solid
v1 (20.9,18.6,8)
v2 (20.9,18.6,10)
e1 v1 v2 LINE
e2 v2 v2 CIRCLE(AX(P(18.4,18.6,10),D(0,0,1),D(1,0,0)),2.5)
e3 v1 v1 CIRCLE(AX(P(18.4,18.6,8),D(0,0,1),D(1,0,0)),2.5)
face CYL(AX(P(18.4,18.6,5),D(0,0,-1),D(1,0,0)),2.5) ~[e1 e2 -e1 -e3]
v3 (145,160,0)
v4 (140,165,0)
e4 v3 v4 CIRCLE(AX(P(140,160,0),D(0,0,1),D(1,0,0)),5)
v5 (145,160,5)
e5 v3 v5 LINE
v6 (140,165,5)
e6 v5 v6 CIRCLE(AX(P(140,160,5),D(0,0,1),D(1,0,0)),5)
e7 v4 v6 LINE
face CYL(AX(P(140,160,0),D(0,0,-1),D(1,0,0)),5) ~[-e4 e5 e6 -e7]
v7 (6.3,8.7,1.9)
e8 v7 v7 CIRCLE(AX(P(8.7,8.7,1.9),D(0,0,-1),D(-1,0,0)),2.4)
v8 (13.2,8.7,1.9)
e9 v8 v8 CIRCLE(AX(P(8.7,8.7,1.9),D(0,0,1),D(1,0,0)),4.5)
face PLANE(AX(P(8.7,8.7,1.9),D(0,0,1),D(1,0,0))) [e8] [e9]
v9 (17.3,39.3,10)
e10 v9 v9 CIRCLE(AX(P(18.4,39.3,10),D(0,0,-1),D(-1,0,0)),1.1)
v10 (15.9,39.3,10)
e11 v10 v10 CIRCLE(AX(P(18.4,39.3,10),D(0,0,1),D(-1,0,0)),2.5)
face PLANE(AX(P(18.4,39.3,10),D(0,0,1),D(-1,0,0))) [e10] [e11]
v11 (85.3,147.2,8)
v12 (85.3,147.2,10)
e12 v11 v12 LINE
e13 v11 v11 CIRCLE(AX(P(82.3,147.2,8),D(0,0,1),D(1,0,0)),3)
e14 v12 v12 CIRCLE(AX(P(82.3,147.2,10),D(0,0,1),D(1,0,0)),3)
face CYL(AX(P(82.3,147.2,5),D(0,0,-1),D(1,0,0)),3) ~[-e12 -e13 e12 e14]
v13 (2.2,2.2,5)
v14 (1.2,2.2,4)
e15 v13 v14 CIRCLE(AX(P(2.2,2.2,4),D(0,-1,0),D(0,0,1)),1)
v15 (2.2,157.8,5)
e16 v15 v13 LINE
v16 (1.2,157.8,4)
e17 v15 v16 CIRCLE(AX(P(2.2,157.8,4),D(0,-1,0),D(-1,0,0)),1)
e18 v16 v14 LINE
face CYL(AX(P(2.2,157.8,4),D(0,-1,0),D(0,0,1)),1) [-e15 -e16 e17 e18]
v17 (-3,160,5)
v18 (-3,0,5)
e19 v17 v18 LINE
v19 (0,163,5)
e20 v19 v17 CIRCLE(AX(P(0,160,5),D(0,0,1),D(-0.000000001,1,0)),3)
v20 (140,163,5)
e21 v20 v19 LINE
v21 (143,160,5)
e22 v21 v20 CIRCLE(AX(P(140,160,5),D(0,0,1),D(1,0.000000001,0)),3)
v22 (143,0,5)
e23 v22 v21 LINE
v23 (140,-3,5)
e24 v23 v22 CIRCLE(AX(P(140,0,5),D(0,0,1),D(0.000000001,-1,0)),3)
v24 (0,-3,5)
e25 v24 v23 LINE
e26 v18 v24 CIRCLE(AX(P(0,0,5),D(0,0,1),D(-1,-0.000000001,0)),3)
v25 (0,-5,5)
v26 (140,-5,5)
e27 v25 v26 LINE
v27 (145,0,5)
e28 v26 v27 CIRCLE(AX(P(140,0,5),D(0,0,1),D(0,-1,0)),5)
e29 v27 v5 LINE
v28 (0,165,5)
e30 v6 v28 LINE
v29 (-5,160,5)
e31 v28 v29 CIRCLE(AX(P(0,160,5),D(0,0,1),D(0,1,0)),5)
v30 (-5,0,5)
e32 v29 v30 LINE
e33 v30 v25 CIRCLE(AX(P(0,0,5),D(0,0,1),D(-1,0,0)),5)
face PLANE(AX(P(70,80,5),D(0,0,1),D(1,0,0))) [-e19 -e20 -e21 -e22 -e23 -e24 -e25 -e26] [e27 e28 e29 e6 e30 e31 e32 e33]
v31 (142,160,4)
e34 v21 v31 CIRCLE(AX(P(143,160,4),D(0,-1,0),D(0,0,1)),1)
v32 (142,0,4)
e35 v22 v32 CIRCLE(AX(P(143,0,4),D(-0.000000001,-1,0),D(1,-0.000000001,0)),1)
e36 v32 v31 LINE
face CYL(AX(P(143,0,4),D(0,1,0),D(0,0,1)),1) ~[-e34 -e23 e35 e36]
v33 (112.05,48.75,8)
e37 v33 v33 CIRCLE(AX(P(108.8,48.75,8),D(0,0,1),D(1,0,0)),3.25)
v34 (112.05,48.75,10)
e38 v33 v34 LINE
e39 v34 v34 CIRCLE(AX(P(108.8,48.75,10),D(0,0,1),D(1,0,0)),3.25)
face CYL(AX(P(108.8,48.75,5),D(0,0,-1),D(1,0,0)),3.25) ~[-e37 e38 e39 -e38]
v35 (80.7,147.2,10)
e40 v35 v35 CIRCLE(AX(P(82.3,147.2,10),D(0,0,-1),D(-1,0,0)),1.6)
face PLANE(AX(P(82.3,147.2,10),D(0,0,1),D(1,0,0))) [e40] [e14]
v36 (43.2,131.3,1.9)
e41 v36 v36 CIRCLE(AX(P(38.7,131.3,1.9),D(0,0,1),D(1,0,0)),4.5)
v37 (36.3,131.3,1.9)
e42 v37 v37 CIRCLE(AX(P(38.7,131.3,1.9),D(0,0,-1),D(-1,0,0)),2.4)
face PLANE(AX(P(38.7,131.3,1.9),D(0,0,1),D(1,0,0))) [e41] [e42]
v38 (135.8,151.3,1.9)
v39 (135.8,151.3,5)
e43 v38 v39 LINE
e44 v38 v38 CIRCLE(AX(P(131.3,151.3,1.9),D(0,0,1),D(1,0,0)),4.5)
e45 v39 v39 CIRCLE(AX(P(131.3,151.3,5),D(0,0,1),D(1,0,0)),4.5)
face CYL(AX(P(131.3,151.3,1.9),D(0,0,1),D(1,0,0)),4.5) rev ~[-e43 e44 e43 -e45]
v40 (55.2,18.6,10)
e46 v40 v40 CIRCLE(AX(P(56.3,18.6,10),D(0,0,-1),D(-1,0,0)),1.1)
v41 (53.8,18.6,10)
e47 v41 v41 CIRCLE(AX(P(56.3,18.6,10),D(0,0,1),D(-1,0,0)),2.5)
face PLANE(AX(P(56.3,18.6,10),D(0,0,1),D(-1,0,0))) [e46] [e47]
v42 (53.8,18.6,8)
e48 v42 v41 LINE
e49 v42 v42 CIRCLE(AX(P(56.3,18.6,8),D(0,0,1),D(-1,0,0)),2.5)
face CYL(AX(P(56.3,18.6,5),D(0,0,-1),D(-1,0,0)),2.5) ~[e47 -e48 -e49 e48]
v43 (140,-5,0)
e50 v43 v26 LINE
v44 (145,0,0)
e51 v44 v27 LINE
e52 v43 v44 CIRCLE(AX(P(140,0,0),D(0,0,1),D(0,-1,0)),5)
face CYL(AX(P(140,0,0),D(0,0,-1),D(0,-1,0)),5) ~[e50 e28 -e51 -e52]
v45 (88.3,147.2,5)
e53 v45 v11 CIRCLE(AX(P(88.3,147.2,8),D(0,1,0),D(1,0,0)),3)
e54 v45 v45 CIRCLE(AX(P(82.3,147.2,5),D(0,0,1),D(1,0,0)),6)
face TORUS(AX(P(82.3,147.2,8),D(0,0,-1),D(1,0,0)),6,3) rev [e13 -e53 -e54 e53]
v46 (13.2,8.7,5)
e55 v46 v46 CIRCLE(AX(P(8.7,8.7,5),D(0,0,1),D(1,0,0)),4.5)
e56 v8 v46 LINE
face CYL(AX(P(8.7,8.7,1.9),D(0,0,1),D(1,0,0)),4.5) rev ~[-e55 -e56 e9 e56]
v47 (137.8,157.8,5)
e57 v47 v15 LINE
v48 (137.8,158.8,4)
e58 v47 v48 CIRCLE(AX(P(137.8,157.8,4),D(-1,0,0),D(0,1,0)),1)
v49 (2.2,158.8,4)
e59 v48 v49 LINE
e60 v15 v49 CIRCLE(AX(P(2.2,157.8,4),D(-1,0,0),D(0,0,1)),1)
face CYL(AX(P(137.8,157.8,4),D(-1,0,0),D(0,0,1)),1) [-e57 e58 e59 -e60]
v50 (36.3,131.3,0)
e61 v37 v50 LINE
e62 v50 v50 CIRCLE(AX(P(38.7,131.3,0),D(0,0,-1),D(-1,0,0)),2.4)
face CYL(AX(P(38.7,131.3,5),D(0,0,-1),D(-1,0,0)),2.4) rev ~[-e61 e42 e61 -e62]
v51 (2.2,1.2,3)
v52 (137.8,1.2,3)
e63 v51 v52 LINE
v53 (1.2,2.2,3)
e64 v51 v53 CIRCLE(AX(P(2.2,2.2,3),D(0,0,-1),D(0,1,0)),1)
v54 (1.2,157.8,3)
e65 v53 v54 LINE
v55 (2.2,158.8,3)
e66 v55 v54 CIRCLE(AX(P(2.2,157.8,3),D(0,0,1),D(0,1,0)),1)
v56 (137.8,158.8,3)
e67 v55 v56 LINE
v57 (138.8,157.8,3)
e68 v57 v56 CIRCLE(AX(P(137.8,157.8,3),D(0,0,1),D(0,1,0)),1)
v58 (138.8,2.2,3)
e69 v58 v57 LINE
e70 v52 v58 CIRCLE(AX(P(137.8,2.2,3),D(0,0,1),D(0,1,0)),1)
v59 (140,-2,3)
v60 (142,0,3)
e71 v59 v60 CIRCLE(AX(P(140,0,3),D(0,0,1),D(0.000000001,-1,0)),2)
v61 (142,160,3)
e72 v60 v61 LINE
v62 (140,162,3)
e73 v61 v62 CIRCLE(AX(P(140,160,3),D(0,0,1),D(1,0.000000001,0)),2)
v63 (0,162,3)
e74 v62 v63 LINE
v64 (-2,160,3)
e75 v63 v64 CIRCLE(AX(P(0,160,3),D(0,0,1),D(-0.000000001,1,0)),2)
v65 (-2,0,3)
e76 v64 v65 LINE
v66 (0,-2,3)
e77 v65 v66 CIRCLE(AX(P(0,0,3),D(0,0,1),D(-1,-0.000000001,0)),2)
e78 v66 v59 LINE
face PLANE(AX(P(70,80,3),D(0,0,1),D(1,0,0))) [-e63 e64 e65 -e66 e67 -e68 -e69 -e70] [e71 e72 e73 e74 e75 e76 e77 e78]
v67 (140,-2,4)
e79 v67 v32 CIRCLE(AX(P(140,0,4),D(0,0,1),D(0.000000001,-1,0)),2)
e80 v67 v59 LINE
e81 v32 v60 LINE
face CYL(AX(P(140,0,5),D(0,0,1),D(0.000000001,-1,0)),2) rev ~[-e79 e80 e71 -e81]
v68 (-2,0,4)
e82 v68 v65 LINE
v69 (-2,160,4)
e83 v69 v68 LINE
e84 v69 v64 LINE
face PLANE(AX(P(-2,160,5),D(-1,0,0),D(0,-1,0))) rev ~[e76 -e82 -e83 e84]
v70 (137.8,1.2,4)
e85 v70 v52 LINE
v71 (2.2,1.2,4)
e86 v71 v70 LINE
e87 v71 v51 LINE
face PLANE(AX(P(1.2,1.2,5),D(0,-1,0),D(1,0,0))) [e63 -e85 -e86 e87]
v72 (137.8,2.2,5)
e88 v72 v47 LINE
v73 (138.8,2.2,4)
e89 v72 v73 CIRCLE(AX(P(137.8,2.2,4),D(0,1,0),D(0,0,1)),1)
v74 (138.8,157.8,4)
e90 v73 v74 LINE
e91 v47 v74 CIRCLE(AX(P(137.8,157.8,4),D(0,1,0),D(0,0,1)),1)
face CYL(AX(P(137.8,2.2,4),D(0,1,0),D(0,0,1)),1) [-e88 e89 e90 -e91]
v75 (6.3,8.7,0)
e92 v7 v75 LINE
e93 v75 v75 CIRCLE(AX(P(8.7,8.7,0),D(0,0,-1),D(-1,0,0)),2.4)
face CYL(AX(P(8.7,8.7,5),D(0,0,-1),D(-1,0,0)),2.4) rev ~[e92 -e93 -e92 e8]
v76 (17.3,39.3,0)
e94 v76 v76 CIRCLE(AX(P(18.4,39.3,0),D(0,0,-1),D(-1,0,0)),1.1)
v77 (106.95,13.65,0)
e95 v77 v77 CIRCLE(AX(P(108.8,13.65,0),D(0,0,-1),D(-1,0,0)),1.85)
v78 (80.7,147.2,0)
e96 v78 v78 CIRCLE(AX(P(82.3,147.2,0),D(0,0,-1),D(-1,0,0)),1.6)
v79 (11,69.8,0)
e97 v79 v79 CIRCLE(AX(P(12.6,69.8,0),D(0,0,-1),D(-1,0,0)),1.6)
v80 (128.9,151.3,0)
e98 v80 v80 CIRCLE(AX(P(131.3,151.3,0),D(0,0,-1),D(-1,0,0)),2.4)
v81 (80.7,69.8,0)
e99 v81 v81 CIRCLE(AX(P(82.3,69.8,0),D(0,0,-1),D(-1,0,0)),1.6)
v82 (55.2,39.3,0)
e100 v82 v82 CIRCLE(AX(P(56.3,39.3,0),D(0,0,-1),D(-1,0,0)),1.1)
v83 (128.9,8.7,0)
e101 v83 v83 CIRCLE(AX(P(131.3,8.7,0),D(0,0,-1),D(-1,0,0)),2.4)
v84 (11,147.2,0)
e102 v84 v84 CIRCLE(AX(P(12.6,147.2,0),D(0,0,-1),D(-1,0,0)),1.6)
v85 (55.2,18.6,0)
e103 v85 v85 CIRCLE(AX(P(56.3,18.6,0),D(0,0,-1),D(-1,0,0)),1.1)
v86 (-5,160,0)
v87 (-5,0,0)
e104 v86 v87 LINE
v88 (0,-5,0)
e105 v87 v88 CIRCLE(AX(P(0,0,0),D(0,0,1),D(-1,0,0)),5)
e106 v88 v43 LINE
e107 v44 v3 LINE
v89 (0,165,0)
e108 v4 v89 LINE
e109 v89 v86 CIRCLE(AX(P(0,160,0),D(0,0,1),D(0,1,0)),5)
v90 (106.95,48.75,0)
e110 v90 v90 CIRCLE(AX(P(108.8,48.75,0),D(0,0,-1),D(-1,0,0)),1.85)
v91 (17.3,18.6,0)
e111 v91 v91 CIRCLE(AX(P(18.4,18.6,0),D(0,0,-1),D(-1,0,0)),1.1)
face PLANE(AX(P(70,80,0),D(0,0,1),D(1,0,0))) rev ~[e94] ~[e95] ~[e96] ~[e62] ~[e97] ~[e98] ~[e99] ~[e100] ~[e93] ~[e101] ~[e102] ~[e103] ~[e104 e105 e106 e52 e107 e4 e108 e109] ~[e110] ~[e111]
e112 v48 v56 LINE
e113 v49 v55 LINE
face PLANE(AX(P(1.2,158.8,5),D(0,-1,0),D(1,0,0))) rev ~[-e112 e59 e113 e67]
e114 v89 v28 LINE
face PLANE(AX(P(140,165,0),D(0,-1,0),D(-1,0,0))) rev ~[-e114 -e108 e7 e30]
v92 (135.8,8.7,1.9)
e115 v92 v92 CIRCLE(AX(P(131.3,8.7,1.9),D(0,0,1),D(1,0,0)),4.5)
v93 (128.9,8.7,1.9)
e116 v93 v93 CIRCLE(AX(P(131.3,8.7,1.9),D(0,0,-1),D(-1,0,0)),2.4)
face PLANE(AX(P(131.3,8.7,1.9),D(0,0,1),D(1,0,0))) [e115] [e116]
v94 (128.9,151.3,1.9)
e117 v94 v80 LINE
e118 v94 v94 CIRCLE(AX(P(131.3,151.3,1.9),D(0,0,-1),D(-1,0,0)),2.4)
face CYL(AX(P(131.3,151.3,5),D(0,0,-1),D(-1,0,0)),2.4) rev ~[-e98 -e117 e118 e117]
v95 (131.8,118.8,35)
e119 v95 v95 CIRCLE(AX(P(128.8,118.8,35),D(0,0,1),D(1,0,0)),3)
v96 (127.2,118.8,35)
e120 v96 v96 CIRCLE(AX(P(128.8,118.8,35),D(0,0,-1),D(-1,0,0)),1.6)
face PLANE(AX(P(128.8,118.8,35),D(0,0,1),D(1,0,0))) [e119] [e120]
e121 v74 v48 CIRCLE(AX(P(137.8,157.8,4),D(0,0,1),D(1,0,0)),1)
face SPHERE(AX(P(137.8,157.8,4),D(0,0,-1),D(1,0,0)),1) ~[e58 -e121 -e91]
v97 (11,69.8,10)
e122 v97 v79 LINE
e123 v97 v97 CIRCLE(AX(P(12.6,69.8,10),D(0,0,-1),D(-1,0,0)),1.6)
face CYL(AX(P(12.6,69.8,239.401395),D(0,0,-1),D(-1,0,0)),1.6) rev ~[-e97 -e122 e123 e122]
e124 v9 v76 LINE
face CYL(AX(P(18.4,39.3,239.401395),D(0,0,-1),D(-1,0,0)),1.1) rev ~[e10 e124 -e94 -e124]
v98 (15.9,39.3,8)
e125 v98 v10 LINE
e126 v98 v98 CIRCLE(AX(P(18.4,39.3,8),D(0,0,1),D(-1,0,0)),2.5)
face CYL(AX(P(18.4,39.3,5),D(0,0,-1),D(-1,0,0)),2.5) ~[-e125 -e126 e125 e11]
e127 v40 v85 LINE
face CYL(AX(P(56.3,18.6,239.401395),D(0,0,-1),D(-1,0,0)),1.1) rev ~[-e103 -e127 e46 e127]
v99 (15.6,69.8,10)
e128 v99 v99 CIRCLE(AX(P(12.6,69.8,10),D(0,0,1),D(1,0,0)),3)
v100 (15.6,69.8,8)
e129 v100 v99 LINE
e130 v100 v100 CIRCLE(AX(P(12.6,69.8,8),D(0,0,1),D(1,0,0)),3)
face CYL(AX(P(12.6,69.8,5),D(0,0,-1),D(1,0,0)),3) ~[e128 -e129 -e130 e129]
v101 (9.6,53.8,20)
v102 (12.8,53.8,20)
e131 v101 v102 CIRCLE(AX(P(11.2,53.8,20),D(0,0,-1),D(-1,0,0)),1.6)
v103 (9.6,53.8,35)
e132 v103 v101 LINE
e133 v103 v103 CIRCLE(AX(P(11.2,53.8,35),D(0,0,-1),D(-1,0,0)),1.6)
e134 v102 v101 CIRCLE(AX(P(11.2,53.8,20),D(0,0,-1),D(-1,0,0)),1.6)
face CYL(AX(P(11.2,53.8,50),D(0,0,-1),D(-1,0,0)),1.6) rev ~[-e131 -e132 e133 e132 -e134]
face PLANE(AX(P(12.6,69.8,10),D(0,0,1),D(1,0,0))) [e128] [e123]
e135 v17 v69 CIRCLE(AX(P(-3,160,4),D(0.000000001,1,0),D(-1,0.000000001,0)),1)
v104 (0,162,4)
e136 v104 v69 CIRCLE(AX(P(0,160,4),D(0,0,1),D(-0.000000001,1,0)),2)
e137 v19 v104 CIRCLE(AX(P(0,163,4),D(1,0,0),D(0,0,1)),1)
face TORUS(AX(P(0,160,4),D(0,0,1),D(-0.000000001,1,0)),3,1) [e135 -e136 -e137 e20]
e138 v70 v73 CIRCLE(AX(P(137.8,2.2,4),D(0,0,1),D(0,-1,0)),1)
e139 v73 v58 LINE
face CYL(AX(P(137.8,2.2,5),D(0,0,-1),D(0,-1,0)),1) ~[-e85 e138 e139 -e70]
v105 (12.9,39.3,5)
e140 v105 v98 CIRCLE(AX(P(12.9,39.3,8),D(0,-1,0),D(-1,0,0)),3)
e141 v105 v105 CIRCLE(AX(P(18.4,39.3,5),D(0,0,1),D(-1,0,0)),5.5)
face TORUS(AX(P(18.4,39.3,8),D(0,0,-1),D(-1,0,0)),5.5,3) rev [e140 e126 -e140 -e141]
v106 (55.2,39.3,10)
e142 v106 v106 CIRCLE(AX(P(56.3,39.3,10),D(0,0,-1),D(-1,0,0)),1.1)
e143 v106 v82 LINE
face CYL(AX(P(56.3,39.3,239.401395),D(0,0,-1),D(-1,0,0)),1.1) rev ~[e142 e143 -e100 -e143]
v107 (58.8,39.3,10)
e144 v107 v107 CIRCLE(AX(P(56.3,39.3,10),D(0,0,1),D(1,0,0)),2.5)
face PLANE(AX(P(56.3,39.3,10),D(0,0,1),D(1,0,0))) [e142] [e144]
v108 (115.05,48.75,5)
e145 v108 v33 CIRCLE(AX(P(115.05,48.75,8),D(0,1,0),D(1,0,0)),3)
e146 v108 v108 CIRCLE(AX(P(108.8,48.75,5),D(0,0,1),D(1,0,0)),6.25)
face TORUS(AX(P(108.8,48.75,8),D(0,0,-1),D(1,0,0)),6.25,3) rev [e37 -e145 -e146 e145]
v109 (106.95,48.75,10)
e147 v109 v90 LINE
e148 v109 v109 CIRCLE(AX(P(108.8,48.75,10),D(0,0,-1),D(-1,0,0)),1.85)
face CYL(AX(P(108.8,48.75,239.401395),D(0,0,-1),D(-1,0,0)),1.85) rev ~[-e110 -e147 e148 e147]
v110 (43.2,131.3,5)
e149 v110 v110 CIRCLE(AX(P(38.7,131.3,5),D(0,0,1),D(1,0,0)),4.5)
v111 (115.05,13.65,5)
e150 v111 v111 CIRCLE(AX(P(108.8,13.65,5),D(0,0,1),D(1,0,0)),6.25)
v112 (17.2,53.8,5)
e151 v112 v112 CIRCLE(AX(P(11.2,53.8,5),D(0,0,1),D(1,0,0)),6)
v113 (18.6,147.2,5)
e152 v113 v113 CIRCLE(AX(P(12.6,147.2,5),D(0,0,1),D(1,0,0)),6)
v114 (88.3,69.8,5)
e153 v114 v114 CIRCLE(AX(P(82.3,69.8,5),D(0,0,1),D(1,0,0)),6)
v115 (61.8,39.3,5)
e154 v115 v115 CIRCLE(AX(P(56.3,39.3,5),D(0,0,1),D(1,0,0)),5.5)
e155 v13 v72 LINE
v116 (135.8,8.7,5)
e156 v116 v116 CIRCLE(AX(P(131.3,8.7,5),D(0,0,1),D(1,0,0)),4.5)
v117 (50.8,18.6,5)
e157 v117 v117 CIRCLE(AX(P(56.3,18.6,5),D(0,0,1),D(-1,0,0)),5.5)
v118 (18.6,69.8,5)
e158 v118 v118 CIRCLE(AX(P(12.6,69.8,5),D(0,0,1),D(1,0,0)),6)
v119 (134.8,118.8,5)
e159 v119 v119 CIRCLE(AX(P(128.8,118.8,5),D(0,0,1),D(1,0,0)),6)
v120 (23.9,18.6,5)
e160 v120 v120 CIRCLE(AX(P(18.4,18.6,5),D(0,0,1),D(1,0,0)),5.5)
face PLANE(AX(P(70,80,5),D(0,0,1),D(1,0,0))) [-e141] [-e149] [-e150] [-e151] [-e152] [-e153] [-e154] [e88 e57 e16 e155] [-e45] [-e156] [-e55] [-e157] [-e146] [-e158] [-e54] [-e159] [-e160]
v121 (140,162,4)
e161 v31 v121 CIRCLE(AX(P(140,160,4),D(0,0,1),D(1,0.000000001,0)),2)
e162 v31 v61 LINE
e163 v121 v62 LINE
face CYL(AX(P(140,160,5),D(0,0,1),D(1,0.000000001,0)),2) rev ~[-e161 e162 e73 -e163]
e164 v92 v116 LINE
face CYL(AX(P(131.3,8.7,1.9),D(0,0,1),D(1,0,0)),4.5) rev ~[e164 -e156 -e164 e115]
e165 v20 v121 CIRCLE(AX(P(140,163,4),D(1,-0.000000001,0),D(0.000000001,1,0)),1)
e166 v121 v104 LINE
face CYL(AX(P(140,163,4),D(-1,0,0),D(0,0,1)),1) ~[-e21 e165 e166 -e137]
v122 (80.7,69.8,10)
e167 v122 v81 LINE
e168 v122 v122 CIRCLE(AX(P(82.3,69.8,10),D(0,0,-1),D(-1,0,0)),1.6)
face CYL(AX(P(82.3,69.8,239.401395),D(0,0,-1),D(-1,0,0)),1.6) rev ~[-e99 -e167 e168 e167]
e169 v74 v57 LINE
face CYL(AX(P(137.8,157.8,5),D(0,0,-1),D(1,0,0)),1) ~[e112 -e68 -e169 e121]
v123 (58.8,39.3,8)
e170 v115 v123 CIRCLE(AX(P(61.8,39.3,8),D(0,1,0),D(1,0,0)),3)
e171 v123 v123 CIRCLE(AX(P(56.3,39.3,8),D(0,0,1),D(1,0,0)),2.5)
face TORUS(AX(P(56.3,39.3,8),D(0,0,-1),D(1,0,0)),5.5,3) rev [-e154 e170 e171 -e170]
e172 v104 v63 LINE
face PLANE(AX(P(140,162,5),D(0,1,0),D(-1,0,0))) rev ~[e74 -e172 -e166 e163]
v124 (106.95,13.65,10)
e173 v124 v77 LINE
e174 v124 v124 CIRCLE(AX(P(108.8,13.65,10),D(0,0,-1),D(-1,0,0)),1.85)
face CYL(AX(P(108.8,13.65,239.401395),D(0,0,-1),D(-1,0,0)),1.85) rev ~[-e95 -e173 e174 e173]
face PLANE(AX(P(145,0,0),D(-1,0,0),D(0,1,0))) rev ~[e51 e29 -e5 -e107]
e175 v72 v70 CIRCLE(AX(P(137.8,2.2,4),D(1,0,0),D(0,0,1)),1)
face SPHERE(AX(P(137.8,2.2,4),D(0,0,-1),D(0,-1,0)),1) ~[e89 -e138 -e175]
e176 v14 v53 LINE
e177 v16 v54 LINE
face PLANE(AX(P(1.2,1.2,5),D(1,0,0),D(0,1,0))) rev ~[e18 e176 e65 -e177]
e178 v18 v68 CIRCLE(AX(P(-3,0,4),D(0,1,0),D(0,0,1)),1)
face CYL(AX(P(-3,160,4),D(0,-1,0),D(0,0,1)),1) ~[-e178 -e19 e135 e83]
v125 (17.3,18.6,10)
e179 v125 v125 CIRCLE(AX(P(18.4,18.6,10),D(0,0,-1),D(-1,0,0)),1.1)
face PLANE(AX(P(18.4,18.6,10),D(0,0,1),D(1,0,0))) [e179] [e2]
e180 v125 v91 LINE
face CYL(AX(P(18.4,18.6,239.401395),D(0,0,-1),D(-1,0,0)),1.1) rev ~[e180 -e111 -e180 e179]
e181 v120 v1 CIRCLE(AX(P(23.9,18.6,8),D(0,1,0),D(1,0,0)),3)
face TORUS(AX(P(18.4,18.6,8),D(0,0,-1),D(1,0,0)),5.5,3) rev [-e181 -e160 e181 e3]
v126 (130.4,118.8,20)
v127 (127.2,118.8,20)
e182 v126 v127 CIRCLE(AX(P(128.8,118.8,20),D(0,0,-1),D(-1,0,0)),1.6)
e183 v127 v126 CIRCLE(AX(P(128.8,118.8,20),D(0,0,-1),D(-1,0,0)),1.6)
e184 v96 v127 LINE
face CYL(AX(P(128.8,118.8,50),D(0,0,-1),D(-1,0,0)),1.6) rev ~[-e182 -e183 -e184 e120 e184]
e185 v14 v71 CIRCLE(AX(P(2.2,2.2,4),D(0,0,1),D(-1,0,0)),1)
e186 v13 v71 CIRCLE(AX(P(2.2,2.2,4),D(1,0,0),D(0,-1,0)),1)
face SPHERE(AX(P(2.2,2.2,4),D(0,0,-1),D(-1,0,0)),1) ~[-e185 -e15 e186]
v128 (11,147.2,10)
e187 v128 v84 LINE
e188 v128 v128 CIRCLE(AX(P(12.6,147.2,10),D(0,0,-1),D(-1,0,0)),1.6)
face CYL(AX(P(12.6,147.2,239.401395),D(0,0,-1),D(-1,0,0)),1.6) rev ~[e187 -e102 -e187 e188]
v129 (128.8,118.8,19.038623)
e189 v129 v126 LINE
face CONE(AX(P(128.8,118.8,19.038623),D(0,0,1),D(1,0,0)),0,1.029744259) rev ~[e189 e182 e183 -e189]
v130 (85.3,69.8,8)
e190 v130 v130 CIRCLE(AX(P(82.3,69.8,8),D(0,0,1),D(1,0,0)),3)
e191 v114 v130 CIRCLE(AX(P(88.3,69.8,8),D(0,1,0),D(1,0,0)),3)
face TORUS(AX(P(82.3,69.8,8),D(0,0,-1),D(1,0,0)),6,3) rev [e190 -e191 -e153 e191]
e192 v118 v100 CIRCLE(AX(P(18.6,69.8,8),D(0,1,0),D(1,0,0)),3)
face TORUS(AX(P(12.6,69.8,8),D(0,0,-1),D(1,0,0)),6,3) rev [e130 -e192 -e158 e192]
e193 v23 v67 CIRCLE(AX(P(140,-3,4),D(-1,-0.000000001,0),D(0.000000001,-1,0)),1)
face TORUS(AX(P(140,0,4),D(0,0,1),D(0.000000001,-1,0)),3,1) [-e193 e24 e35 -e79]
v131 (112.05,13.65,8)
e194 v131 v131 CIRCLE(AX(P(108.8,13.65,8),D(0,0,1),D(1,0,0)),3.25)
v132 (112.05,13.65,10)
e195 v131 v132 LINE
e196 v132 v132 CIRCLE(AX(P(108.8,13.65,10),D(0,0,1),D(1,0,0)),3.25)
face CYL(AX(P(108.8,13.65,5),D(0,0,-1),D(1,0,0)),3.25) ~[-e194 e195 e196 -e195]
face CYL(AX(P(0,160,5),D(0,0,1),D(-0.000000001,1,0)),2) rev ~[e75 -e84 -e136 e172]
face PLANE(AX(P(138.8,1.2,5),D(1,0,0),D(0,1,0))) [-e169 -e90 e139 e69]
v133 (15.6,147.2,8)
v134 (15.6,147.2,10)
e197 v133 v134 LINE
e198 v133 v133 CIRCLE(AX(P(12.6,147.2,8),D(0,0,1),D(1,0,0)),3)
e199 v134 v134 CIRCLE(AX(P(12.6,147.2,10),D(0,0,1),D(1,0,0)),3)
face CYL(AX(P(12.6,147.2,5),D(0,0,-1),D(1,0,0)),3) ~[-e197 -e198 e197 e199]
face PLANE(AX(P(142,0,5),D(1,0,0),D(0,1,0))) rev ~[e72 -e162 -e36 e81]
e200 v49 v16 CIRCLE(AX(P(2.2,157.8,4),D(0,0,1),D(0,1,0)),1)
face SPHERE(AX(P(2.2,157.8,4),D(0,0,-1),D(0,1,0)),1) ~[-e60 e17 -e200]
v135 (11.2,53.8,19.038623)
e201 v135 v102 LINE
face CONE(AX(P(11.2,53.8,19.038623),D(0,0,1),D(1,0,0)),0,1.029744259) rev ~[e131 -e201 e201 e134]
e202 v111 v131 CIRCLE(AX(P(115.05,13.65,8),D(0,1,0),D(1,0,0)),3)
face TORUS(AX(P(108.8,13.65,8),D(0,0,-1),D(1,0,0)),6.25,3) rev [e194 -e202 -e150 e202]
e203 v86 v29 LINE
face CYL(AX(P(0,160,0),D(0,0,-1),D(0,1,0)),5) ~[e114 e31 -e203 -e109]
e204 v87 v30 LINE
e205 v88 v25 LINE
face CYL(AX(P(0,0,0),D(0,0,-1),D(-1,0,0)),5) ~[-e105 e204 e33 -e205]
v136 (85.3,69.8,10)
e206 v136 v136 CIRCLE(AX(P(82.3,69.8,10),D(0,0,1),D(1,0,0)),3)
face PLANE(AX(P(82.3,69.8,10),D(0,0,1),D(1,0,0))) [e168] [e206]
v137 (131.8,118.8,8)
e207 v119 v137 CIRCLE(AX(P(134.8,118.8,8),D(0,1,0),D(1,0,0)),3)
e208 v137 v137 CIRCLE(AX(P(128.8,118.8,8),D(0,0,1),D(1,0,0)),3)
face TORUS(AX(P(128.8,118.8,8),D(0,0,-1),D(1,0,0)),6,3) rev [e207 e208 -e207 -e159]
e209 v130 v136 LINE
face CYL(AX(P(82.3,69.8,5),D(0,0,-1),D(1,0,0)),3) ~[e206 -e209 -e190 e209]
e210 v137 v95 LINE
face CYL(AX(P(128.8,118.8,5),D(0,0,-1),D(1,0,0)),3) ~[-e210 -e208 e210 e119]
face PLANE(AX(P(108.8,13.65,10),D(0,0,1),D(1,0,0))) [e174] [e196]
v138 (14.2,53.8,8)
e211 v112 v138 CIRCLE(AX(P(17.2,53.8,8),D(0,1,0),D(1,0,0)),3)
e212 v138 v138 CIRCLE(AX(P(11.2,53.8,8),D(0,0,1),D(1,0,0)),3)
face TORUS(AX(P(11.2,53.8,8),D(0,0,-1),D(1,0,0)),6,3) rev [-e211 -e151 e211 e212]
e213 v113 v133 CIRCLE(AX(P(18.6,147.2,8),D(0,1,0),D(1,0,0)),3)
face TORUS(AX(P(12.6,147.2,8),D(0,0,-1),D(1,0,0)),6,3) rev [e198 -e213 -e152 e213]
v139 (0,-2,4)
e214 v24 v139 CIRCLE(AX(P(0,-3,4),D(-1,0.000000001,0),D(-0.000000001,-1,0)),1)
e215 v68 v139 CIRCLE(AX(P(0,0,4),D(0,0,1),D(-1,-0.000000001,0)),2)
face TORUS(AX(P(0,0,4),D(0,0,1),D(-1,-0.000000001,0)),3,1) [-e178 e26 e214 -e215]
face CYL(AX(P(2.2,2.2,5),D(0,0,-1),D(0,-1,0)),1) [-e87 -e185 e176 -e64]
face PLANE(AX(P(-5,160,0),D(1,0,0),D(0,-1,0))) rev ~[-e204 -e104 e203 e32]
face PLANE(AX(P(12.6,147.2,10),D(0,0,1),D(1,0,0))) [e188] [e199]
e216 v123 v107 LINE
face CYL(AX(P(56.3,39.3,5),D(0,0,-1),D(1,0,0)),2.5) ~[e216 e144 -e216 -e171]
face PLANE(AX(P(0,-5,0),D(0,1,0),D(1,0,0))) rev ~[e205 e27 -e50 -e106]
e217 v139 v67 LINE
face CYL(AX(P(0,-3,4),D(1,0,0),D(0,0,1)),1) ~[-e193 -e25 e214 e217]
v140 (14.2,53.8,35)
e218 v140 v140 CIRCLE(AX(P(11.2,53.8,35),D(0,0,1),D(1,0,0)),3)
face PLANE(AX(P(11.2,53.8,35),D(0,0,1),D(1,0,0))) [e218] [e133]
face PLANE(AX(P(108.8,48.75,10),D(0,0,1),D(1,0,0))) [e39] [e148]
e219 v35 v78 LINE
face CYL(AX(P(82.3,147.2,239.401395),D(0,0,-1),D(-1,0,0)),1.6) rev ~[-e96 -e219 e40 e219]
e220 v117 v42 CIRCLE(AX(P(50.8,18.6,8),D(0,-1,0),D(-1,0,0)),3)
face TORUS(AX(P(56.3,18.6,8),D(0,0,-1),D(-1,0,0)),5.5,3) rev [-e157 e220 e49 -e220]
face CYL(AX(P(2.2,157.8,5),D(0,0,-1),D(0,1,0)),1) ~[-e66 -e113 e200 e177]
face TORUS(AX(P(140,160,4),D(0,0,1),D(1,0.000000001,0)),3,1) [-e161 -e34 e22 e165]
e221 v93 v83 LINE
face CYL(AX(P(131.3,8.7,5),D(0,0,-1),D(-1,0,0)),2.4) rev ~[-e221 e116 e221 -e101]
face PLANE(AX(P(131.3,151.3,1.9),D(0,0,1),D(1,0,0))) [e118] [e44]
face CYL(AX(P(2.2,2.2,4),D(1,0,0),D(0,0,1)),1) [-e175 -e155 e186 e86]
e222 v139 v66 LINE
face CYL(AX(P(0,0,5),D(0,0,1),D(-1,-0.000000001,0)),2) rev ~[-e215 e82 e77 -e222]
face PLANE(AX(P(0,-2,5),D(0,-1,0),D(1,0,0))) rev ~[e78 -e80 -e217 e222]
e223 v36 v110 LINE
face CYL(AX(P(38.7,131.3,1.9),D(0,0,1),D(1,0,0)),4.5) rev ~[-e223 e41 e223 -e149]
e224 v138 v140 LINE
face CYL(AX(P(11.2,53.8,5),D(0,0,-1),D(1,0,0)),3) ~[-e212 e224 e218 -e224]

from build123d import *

# Parameters (mm, degrees)
RESSALTO_EXTRUS_O1_DEPTH                            = 5
ESBO_O5_W                                           = 137.6
ESBO_O5_H                                           = 157.6
CORTE_EXTRUS_O1_DEPTH                               = 2
FILETE2_R                                           = 1
FILETE4_R                                           = 1
ESBO_O6_R                                           = 3
ESBO_O6_R_2                                         = 3.25
ESBO_O6_R_3                                         = 2.5
RESSALTO_EXTRUS_O3_DEPTH                            = 5
ESBO_O18_R                                          = 3
RESSALTO_EXTRUS_O4_DEPTH                            = 30
FILETE5_R                                           = 3
FURO_COM_FOLGA_DE_M3_51_D                           = 3.7
FURO_COM_FOLGA_DE_M21_D                             = 2.2
FURO_COM_FOLGA_DE_M31_D                             = 3.2
REBAIXO_PARA_PARAFUSO_COM_CABE_A_PANELA_D           = 4.8
REBAIXO_PARA_PARAFUSO_COM_CABE_A_PANELA_CBORE_D     = 9
REBAIXO_PARA_PARAFUSO_COM_CABE_A_PANELA_CBORE_DEPTH = 3.1
FILETE6_R                                           = 1
FURO_COM_FOLGA_DE_M32_D                             = 3.2
FURO_COM_FOLGA_DE_M32_DEPTH                         = 15
FURO_COM_FOLGA_DE_M32_TIP                           = 0.96137699


with BuildPart() as part:
    # Esboço1 → Ressalto-extrusão1 (new body)
    with BuildSketch(Plane.XY):
        with BuildLine():
            Line((0, -5), (140, -5))
            ThreePointArc((140, -5), (143.535533906, -3.535533906), (145, 0))
            Line((145, 0), (145, 160))
            ThreePointArc((145, 160), (143.535533906, 163.535533906), (140, 165))
            Line((140, 165), (0, 165))
            ThreePointArc((0, 165), (-3.535533906, 163.535533906), (-5, 160))
            Line((-5, 160), (-5, 0))
            ThreePointArc((-5, 0), (-3.535533906, -3.535533906), (0, -5))
        make_face()
    extrude(amount=RESSALTO_EXTRUS_O1_DEPTH)

    # Esboço5 → Corte-extrusão1 (cut)
    with BuildSketch(Plane.XY.offset(5)):
        with BuildLine():
            Line((142, 0), (142, 160))
            ThreePointArc((142, 160), (141.414213562, 161.414213562), (140, 162))
            Line((140, 162), (0, 162))
            ThreePointArc((0, 162), (-1.414213562, 161.414213562), (-2, 160))
            Line((-2, 160), (-2, 0))
            ThreePointArc((-2, 0), (-1.414213562, -1.414213562), (0, -2))
            Line((0, -2), (140, -2))
            ThreePointArc((140, -2), (141.414213562, -1.414213562), (142, 0))
        make_face()
        with Locations((70, 80)):
            Rectangle(ESBO_O5_W, ESBO_O5_H, mode=Mode.SUBTRACT)
    extrude(amount=-CORTE_EXTRUS_O1_DEPTH, mode=Mode.SUBTRACT)

    # Filete2
    filete2_edges = [part.edges().sort_by_distance(p)[0] for p in [
        (141.414213562, -1.414213562, 5),
        (142, 80, 5),
        (141.414213562, 161.414213562, 5),
        (70, 162, 5),
        (-1.414213562, 161.414213562, 5),
        (-2, 80, 5),
        (-1.414213562, -1.414213562, 5),
        (70, -2, 5),
    ]]
    fillet(filete2_edges, radius=FILETE2_R)

    # Filete4
    filete4_edges = [part.edges().sort_by_distance(p)[0] for p in [
        (1.2, 1.2, 4),
        (1.2, 158.8, 4),
        (138.8, 158.8, 4),
        (138.8, 1.2, 4),
    ]]
    fillet(filete4_edges, radius=FILETE4_R)

    # Esboço6 → Ressalto-extrusão3 (add)
    with BuildSketch(Plane.XY.offset(5)):
        with Locations((12.6, 147.2)):
            Circle(ESBO_O6_R)
        with Locations((82.3, 147.2)):
            Circle(ESBO_O6_R)
        with Locations((82.3, 69.8)):
            Circle(ESBO_O6_R)
        with Locations((12.6, 69.8)):
            Circle(ESBO_O6_R)
        with Locations((108.8, 48.75)):
            Circle(ESBO_O6_R_2)
        with Locations((108.8, 13.65)):
            Circle(ESBO_O6_R_2)
        with Locations(Location((56.3, 18.6, 0), (0, 0, 180))):
            Circle(ESBO_O6_R_3)
        with Locations(Location((18.4, 39.3, 0), (0, 0, 180))):
            Circle(ESBO_O6_R_3)
        with Locations((18.4, 18.6)):
            Circle(ESBO_O6_R_3)
        with Locations((56.3, 39.3)):
            Circle(ESBO_O6_R_3)
    extrude(amount=RESSALTO_EXTRUS_O3_DEPTH)

    # Esboço18 → Ressalto-extrusão4 (add)
    with BuildSketch(Plane.XY.offset(5)):
        with Locations((128.8, 118.8)):
            Circle(ESBO_O18_R)
        with Locations((11.2, 53.8)):
            Circle(ESBO_O18_R)
    extrude(amount=RESSALTO_EXTRUS_O4_DEPTH)

    # Filete5
    filete5_edges = [part.edges().sort_by_distance(p)[0] for p in [
        (9.6, 147.2, 5),
        (79.3, 147.2, 5),
        (79.3, 69.8, 5),
        (9.6, 69.8, 5),
        (105.55, 48.75, 5),
        (105.55, 13.65, 5),
        (15.9, 18.6, 5),
        (58.8, 18.6, 5),
        (20.9, 39.3, 5),
        (53.8, 39.3, 5),
        (125.8, 118.8, 5),
        (8.2, 53.8, 5),
    ]]
    fillet(filete5_edges, radius=FILETE5_R)

    # Furo com folga de M3.51 (through all)
    with Locations(Plane.XY.offset(10)):
        with Locations((108.8, 13.65), (108.8, 48.75)):
            Hole(FURO_COM_FOLGA_DE_M3_51_D / 2)

    # Furo com folga de M21 (through all)
    with Locations(Plane.XY.offset(10)):
        with Locations((18.4, 39.3), (18.4, 18.6), (56.3, 39.3), (56.3, 18.6)):
            Hole(FURO_COM_FOLGA_DE_M21_D / 2)

    # Furo com folga de M31 (through all)
    with Locations(Plane.XY.offset(10)):
        with Locations((12.6, 147.2), (82.3, 147.2), (82.3, 69.8), (12.6, 69.8)):
            Hole(FURO_COM_FOLGA_DE_M31_D / 2)

    # Rebaixo para parafuso com cabeça panela de M41 (through all)
    with Locations(Plane.XY.offset(5)):
        with Locations((38.7, 131.3), (131.3, 151.3), (131.3, 8.7), (8.7, 8.7)):
            CounterBoreHole(REBAIXO_PARA_PARAFUSO_COM_CABE_A_PANELA_D / 2, REBAIXO_PARA_PARAFUSO_COM_CABE_A_PANELA_CBORE_D / 2, REBAIXO_PARA_PARAFUSO_COM_CABE_A_PANELA_CBORE_DEPTH)

    # Filete6
    filete6_edges = [part.edges().sort_by_distance(p)[0] for p in [
        (138.8, 80, 5),
        (1.2, 80, 5),
        (70, 1.2, 5),
        (70, 158.8, 5),
        (1.492893219, 158.507106781, 5),
        (1.492893219, 1.492893219, 5),
        (138.507106781, 1.492893219, 5),
        (138.507106781, 158.507106781, 5),
    ]]
    fillet(filete6_edges, radius=FILETE6_R)

    # Furo com folga de M32
    with Locations(Plane.XY.offset(35)):
        with Locations((128.8, 118.8), (11.2, 53.8)):
            Hole(FURO_COM_FOLGA_DE_M32_D / 2, depth=FURO_COM_FOLGA_DE_M32_DEPTH)
            with Locations((0, 0, -(FURO_COM_FOLGA_DE_M32_DEPTH + FURO_COM_FOLGA_DE_M32_TIP / 2))):  # 118° drill point
                Cone(0, FURO_COM_FOLGA_DE_M32_D / 2, FURO_COM_FOLGA_DE_M32_TIP, mode=Mode.SUBTRACT)


solid = part.part
